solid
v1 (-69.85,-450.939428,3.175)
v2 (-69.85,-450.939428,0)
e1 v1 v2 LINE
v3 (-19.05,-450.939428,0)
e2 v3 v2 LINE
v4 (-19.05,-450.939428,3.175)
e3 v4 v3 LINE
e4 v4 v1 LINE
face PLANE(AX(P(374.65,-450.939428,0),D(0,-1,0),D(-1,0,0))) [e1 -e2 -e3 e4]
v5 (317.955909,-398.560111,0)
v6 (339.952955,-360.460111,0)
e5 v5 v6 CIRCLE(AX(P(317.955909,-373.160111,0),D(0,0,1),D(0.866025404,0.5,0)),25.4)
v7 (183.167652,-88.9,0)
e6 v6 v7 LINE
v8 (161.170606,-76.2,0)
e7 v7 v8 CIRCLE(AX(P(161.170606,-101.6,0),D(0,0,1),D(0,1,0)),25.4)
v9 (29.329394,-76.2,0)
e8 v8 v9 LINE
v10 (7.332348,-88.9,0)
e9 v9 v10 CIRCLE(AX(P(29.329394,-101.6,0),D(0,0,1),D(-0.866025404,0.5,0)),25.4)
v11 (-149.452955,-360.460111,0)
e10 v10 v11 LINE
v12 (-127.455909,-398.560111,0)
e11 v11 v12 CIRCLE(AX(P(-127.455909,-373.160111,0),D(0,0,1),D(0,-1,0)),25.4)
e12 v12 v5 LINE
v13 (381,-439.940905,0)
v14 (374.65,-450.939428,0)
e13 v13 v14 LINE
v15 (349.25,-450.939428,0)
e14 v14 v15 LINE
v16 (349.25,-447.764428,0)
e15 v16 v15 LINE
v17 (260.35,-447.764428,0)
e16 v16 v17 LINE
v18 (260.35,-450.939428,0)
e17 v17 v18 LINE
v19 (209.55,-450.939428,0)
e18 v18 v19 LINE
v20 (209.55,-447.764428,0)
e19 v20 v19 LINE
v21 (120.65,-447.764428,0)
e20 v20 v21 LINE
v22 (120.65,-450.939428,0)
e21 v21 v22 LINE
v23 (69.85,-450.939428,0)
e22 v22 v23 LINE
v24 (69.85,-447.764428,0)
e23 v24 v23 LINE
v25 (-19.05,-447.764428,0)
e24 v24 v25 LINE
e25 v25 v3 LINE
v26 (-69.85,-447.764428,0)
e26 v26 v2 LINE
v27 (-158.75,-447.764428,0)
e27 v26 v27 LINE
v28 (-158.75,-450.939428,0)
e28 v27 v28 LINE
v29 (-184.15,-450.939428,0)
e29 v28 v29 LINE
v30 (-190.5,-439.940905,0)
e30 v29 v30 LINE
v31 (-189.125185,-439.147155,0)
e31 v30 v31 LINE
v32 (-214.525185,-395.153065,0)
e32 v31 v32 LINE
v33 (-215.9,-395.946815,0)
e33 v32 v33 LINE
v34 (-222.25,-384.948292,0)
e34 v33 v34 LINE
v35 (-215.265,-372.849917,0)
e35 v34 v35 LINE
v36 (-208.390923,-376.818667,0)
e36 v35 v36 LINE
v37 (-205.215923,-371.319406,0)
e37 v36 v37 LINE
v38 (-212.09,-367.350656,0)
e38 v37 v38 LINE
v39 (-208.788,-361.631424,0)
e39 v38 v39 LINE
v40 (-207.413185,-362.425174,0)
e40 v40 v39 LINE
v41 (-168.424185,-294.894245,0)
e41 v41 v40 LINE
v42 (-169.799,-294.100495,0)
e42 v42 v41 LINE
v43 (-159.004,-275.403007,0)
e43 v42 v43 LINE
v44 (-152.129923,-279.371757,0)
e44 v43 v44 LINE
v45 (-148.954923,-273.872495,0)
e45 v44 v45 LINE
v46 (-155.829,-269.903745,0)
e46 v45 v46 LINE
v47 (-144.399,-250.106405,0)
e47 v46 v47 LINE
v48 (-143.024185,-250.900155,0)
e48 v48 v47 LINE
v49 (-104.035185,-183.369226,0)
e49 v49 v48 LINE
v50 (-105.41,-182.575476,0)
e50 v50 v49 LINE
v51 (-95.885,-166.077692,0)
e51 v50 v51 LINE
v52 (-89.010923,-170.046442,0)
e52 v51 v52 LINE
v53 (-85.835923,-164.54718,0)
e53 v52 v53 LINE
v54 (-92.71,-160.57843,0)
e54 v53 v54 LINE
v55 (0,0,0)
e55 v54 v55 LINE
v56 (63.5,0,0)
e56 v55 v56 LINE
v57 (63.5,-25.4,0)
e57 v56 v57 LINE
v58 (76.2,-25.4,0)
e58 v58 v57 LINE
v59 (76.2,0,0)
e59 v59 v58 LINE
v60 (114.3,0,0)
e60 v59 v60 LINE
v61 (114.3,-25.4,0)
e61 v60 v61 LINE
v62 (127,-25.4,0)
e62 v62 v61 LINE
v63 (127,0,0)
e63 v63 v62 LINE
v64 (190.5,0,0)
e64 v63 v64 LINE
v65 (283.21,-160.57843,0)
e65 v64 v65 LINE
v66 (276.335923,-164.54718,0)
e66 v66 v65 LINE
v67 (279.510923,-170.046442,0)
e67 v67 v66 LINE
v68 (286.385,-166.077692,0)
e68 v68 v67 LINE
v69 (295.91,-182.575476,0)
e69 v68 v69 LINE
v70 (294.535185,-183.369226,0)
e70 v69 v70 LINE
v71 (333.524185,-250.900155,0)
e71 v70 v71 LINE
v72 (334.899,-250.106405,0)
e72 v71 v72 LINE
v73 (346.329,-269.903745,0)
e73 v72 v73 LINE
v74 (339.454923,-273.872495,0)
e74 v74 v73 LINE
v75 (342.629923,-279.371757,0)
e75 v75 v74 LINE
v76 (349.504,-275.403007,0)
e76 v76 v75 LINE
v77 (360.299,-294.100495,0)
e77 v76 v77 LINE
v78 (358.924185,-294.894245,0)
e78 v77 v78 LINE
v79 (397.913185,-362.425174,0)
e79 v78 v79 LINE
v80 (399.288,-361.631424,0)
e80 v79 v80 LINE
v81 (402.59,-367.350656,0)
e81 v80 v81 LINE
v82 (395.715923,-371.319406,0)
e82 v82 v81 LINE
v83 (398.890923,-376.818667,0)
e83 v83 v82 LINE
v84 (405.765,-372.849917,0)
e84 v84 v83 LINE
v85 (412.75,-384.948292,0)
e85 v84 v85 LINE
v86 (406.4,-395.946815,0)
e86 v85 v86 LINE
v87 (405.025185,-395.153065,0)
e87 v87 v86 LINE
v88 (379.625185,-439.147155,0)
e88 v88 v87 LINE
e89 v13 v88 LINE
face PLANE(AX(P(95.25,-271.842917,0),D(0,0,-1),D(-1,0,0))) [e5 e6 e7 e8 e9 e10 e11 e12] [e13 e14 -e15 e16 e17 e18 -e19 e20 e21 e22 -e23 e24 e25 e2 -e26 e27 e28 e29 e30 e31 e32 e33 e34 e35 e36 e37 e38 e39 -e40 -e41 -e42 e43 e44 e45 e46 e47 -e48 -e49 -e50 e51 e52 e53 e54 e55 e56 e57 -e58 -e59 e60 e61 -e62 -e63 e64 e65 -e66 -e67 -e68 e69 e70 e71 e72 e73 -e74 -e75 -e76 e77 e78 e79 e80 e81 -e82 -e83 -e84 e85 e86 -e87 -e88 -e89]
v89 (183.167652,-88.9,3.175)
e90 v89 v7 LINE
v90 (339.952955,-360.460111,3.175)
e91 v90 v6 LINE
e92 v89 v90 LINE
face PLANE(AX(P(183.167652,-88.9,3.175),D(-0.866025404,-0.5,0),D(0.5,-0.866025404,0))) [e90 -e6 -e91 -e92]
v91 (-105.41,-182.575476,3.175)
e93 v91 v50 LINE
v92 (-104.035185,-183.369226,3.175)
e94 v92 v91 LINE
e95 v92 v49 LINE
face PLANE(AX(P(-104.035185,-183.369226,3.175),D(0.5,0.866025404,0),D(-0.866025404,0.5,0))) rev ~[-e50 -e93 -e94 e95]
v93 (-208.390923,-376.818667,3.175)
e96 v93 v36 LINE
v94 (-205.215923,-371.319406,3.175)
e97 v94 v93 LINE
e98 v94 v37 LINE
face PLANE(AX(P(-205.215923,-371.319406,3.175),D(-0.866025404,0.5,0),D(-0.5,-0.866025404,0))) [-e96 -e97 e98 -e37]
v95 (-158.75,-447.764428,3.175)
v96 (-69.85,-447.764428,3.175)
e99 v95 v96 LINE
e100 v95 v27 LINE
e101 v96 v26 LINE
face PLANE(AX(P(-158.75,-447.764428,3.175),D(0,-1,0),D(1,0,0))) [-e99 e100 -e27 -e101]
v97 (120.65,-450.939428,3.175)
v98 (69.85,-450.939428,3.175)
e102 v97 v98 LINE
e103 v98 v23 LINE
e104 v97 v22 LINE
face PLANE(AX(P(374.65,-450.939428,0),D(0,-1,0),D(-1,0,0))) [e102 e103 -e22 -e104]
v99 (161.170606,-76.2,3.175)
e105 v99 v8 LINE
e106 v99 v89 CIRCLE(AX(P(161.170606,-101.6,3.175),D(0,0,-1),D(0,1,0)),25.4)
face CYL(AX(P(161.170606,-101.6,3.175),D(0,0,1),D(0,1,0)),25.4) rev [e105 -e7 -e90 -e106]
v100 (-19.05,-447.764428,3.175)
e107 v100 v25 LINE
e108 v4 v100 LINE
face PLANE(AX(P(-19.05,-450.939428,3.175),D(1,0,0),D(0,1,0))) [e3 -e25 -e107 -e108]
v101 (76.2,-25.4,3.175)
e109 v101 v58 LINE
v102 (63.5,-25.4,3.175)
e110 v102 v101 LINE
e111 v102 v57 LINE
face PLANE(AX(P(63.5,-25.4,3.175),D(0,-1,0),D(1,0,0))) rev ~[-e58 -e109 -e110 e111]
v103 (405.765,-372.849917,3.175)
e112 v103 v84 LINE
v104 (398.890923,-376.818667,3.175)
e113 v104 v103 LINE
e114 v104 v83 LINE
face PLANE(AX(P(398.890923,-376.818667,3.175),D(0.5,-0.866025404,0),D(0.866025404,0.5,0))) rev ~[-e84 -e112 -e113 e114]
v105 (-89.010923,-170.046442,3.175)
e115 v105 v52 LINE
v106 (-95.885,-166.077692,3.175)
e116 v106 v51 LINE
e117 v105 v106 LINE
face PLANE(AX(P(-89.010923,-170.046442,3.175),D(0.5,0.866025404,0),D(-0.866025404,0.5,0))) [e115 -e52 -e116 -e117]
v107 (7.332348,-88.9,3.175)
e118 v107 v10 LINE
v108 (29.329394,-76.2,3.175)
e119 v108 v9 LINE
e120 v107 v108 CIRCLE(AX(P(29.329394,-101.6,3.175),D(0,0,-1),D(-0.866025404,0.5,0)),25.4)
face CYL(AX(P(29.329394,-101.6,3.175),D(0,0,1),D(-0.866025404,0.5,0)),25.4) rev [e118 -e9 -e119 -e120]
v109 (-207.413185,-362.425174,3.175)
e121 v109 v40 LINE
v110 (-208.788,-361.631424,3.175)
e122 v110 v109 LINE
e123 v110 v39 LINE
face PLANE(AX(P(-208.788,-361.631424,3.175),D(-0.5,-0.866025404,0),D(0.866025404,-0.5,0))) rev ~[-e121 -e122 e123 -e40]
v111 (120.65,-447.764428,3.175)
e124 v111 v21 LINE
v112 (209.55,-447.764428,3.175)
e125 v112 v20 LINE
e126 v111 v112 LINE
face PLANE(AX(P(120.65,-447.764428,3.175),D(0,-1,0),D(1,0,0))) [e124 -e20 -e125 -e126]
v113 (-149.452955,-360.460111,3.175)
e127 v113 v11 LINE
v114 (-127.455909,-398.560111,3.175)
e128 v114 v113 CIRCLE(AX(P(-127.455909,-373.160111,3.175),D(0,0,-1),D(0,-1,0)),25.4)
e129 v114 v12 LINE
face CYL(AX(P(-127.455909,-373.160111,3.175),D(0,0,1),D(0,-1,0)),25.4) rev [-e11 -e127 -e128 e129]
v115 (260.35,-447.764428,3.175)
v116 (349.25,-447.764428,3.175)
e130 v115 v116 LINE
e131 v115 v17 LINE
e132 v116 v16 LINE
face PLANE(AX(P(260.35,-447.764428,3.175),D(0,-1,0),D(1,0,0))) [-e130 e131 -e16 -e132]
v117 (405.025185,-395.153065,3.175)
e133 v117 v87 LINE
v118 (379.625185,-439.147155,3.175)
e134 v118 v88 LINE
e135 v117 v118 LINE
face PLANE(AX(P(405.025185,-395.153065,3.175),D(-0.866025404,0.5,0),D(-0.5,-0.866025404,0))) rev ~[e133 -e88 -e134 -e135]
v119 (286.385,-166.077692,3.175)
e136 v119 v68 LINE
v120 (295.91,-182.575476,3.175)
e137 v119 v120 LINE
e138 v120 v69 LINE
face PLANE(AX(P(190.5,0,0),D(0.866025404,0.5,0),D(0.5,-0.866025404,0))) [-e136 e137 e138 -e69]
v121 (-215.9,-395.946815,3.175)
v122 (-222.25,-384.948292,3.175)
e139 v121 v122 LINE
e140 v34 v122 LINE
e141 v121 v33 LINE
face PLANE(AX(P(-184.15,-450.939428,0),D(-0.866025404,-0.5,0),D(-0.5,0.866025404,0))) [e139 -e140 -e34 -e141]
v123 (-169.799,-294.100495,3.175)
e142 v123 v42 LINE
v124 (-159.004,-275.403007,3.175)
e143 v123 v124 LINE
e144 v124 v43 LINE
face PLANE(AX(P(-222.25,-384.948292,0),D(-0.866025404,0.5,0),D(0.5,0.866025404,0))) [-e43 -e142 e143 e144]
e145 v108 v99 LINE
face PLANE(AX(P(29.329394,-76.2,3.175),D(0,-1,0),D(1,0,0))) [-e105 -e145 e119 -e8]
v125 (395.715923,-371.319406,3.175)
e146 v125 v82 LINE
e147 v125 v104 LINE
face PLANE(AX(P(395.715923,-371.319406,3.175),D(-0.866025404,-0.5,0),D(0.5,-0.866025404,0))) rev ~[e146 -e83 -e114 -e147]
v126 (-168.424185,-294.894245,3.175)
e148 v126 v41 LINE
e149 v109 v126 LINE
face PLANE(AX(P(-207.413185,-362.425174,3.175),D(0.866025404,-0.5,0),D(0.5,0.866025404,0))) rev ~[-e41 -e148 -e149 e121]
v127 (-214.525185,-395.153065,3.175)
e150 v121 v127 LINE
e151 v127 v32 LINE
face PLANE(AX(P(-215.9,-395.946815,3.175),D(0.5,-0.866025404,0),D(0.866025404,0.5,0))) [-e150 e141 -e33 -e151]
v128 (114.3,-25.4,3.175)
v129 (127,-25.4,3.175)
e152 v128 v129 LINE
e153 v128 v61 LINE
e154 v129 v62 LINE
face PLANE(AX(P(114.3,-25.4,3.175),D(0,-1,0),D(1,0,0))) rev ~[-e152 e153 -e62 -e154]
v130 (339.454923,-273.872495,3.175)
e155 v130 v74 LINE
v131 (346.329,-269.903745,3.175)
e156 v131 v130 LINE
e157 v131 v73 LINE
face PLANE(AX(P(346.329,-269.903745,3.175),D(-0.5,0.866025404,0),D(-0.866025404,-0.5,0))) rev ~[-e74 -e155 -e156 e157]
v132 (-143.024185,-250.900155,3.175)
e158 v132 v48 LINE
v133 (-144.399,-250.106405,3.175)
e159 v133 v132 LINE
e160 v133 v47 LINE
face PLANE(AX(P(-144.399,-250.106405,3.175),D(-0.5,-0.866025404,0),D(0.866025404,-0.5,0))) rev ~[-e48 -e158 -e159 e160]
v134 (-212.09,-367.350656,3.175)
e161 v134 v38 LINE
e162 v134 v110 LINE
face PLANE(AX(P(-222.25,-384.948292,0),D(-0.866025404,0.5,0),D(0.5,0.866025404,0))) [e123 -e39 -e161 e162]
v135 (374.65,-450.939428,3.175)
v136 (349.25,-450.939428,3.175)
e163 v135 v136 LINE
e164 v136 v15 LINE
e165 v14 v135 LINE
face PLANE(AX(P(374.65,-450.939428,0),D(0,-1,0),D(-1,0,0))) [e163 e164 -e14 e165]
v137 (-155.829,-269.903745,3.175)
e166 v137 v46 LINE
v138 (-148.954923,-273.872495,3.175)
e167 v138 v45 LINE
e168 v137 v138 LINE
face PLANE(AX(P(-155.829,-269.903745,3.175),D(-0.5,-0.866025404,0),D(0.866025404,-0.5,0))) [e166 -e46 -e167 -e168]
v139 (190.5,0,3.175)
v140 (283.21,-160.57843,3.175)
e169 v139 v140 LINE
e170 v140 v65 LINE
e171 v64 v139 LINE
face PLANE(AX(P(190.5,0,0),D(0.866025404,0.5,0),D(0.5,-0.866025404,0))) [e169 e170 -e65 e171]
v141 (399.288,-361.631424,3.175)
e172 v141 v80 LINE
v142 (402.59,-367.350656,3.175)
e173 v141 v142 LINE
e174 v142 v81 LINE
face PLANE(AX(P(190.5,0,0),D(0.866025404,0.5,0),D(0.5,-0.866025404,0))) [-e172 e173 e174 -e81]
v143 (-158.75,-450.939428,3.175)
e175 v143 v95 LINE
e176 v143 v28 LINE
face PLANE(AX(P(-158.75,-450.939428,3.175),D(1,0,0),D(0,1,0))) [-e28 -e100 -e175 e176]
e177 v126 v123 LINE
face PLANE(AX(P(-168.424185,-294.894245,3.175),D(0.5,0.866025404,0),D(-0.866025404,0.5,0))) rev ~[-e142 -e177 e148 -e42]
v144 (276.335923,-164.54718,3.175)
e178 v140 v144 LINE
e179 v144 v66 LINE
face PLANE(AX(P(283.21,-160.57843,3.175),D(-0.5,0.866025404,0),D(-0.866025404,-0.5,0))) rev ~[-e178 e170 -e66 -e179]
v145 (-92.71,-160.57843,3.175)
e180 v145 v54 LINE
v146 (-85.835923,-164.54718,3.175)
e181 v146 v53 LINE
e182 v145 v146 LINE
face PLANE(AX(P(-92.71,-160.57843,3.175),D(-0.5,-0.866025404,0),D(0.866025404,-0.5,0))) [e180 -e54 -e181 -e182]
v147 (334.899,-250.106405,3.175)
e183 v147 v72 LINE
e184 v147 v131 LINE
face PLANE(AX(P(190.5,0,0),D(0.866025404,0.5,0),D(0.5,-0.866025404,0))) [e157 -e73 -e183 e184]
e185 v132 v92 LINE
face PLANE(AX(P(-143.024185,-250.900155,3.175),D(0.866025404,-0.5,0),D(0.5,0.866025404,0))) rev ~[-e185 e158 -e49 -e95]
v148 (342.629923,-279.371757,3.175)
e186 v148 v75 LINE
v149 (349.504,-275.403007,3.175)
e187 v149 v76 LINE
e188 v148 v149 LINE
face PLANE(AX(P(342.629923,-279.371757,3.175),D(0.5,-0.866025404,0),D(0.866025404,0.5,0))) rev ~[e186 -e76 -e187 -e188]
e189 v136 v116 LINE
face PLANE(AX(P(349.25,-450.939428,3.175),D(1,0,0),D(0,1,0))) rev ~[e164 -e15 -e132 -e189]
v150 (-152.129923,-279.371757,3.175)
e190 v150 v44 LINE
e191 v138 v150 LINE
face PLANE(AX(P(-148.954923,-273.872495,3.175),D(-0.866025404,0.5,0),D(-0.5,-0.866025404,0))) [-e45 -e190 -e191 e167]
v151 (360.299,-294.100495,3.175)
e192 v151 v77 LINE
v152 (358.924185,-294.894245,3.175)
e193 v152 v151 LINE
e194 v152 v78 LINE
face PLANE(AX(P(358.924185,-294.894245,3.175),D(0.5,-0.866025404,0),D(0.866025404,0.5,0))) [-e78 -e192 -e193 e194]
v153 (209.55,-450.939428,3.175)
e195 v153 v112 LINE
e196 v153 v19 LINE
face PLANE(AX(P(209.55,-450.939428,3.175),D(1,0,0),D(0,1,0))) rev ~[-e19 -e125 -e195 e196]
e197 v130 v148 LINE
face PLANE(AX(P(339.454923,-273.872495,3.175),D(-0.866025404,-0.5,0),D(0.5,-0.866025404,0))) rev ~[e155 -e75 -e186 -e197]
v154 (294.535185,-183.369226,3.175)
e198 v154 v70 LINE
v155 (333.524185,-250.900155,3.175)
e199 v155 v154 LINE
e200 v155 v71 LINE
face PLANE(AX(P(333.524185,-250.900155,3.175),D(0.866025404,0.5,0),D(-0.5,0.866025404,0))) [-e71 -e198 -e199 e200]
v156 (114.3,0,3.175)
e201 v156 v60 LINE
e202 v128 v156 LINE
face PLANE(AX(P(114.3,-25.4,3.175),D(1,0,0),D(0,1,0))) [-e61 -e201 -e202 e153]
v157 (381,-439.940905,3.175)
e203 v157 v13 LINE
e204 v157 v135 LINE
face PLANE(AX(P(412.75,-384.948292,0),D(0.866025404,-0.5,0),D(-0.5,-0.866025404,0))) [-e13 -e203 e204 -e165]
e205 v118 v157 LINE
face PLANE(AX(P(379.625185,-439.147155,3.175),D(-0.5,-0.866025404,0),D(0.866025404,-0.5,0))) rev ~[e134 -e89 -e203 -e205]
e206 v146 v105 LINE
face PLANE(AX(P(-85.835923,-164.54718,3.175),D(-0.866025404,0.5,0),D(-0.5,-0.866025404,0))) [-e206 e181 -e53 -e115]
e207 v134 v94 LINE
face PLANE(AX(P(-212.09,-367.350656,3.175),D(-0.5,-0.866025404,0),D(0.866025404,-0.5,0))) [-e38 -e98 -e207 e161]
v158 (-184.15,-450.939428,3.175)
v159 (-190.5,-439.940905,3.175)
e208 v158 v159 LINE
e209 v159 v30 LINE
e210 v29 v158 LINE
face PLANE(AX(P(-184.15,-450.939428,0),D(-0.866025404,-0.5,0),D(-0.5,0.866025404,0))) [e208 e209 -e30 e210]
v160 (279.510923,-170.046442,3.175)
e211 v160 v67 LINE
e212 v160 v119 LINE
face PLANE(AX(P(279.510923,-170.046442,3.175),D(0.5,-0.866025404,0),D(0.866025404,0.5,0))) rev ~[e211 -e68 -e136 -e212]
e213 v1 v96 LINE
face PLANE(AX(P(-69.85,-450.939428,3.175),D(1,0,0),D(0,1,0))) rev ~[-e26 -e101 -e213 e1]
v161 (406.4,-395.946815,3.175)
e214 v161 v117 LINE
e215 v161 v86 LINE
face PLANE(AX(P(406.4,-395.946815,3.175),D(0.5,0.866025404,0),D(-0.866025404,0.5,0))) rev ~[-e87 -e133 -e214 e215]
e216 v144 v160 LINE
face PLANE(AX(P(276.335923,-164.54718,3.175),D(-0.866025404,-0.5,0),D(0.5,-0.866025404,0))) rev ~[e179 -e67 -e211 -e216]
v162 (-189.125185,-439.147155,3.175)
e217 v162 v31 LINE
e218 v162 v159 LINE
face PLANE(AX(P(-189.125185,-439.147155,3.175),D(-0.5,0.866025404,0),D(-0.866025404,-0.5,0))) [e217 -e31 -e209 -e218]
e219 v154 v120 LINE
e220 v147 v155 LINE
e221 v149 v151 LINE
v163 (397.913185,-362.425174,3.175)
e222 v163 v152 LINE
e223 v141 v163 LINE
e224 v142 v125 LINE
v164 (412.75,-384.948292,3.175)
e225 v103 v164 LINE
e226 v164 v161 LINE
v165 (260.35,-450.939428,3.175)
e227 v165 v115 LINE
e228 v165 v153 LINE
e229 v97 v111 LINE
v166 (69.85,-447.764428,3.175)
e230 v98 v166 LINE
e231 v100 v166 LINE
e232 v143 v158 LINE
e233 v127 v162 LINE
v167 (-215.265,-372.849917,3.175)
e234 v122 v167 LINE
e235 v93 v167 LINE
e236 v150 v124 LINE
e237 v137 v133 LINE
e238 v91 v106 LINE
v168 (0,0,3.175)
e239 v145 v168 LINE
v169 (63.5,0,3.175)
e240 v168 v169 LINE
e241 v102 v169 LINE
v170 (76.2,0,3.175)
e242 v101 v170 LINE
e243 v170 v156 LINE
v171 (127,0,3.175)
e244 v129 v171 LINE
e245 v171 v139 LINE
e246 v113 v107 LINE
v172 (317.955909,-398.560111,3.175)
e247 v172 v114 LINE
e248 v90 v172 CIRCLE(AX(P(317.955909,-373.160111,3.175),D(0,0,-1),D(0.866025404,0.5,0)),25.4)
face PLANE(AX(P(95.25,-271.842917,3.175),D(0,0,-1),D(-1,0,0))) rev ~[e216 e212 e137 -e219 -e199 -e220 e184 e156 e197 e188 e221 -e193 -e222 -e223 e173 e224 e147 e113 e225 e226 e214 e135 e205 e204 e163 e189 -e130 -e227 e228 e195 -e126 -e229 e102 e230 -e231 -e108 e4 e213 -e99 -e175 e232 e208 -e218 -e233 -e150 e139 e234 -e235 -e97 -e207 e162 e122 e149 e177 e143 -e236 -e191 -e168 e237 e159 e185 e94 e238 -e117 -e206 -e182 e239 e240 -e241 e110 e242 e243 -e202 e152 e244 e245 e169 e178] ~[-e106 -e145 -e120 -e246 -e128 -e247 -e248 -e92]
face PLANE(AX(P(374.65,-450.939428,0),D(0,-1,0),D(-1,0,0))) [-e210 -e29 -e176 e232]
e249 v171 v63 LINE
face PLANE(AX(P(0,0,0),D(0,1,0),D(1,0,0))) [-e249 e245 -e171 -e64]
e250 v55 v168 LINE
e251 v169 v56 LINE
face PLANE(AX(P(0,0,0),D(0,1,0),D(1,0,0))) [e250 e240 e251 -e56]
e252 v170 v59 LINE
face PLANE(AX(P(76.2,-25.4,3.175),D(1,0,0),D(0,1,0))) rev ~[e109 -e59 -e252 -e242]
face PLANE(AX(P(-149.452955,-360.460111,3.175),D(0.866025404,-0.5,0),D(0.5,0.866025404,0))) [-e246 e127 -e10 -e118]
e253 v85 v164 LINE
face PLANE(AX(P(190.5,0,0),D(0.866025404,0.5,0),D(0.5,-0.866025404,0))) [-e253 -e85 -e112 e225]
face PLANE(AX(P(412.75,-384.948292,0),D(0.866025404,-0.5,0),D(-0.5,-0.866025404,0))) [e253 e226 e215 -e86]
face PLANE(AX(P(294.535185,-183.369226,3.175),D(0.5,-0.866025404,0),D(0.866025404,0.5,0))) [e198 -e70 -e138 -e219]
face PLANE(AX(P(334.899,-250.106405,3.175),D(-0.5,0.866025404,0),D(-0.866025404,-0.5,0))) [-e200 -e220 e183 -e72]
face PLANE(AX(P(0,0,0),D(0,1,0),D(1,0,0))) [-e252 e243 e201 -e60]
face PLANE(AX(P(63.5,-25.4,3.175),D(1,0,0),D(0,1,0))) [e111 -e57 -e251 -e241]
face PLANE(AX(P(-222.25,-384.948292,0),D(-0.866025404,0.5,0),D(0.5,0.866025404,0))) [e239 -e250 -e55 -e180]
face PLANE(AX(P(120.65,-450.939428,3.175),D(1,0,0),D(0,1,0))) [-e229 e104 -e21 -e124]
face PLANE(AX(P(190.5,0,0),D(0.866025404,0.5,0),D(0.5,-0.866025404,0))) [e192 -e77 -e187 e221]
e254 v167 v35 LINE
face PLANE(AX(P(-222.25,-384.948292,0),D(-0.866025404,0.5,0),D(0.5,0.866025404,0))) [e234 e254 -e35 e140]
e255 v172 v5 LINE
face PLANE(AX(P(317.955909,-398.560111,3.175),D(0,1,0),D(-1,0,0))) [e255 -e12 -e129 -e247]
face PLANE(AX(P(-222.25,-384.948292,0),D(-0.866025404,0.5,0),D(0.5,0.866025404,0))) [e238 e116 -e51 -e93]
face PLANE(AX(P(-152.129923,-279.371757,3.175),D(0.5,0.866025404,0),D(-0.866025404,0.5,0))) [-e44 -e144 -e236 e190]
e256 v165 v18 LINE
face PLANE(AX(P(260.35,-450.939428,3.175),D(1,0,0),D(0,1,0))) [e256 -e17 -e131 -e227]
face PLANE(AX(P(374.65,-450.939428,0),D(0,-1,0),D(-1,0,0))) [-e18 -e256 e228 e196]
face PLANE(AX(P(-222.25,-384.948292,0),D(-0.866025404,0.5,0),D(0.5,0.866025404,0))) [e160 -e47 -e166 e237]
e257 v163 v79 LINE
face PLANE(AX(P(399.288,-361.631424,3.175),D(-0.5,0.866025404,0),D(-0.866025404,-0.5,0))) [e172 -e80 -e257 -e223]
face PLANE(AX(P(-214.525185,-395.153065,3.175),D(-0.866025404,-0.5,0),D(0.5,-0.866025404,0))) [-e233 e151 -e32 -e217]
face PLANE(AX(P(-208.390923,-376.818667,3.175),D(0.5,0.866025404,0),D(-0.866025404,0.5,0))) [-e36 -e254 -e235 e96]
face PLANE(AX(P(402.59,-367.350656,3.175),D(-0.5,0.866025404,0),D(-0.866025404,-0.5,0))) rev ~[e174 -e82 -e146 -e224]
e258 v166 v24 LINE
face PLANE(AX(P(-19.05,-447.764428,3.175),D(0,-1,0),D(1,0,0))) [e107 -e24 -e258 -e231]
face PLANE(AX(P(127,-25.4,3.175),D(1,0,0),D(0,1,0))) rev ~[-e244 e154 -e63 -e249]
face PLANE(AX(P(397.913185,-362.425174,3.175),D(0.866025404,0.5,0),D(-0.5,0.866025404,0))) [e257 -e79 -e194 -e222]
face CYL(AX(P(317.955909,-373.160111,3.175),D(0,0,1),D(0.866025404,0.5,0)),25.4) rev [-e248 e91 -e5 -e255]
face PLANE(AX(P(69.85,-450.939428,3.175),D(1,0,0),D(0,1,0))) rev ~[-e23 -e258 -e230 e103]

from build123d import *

# Parameters (mm, degrees)
BOSS_EXTRUDE1_DEPTH = 3.175
SKETCH2_W           = 12.7
SKETCH2_H           = 25.4
CUT_EXTRUDE1_DEPTH  = 612.325617511
SKETCH4_W           = 88.9
SKETCH4_H           = 3.175
CUT_EXTRUDE2_DEPTH  = 612.325617511
CUT_EXTRUDE3_DEPTH  = 612.325617511
CUT_EXTRUDE4_DEPTH  = 612.325617511


with BuildPart() as part:
    # Sketch1 → Boss-Extrude1 (new body)
    with BuildSketch(Plane.XY):
        Polygon((0, 0), (190.5, 0), (412.75, -384.948291982), (374.65, -450.939427751), (-184.15, -450.939427751), (-222.25, -384.948291982), align=None)
    extrude(amount=BOSS_EXTRUDE1_DEPTH)

    # Sketch2 → Cut-Extrude1 (cut, through all)
    with BuildSketch(Plane.XY.offset(3.175)):
        with Locations((69.85, -12.7)):
            Rectangle(SKETCH2_W, SKETCH2_H)
        with BuildLine():
            Line((29.329393675, -76.2), (161.170606325, -76.2))
            ThreePointArc((161.170606325, -76.2), (173.870606325, -79.602954744), (183.167651581, -88.9))
            Line((183.167651581, -88.9), (339.952954744, -360.460110958))
            ThreePointArc((339.952954744, -360.460110958), (339.952954744, -385.860110958), (317.955909488, -398.560110958))
            Line((317.955909488, -398.560110958), (-127.455909488, -398.560110958))
            ThreePointArc((-127.455909488, -398.560110958), (-149.452954744, -385.860110958), (-149.452954744, -360.460110958))
            Line((-149.452954744, -360.460110958), (7.332348419, -88.9))
            ThreePointArc((7.332348419, -88.9), (16.629393675, -79.602954744), (29.329393675, -76.2))
        make_face()
        with Locations((120.65, -12.7)):
            Rectangle(SKETCH2_W, SKETCH2_H)
    extrude(amount=-CUT_EXTRUDE1_DEPTH, mode=Mode.SUBTRACT)

    # Sketch4 → Cut-Extrude2 (cut, through all)
    with BuildSketch(Plane.XY.offset(3.175)):
        with Locations((-114.3, -449.351927751)):
            Rectangle(SKETCH4_W, SKETCH4_H)
        with Locations((25.4, -449.351927751)):
            Rectangle(SKETCH4_W, SKETCH4_H)
        with Locations((165.1, -449.351927751)):
            Rectangle(SKETCH4_W, SKETCH4_H)
        with Locations((304.8, -449.351927751)):
            Rectangle(SKETCH4_W, SKETCH4_H)
        Polygon((-215.9, -395.94681461), (-214.525184671, -395.15306461), (-189.125184671, -439.147155122), (-190.5, -439.940905122), align=None)
        Polygon((406.4, -395.94681461), (405.025184671, -395.15306461), (379.625184671, -439.147155122), (381, -439.940905122), align=None)
    extrude(amount=-CUT_EXTRUDE2_DEPTH, mode=Mode.SUBTRACT)

    # Sketch5 → Cut-Extrude3 (cut, through all)
    with BuildSketch(Plane.XY.offset(3.175)):
        Polygon((-208.788, -361.631424011), (-207.413184671, -362.425174011), (-168.424184671, -294.894245074), (-169.799, -294.100495074), align=None)
        Polygon((-143.024184671, -250.900154562), (-104.035184671, -183.369225626), (-105.41, -182.575475626), (-144.399, -250.106404562), align=None)
        Polygon((399.288, -361.631424011), (397.913184671, -362.425174011), (358.924184671, -294.894245074), (360.299, -294.100495074), align=None)
        Polygon((334.899, -250.106404562), (333.524184671, -250.900154562), (294.535184671, -183.369225626), (295.91, -182.575475626), align=None)
    extrude(amount=-CUT_EXTRUDE3_DEPTH, mode=Mode.SUBTRACT)

    # Sketch6 → Cut-Extrude4 (cut, through all)
    with BuildSketch(Plane.XY.offset(3.175)):
        Polygon((-155.829, -269.903745293), (-148.954923357, -273.872495293), (-152.129923357, -279.371756607), (-159.004, -275.403006607), align=None)
        Polygon((349.504, -275.403006607), (346.329, -269.903745293), (339.454923357, -273.872495293), (342.629923357, -279.371756607), align=None)
        Polygon((-205.215923357, -371.319405777), (-208.390923357, -376.818667091), (-215.265, -372.849917091), (-212.09, -367.350655777), align=None)
        Polygon((-85.835923357, -164.54718037), (-89.010923357, -170.046441684), (-95.885, -166.077691684), (-92.71, -160.57843037), align=None)
        Polygon((286.385, -166.077691684), (283.21, -160.57843037), (276.335923357, -164.54718037), (279.510923357, -170.046441684), align=None)
        Polygon((405.765, -372.849917091), (402.59, -367.350655777), (395.715923357, -371.319405777), (398.890923357, -376.818667091), align=None)
    extrude(amount=-CUT_EXTRUDE4_DEPTH, mode=Mode.SUBTRACT)


solid = part.part
